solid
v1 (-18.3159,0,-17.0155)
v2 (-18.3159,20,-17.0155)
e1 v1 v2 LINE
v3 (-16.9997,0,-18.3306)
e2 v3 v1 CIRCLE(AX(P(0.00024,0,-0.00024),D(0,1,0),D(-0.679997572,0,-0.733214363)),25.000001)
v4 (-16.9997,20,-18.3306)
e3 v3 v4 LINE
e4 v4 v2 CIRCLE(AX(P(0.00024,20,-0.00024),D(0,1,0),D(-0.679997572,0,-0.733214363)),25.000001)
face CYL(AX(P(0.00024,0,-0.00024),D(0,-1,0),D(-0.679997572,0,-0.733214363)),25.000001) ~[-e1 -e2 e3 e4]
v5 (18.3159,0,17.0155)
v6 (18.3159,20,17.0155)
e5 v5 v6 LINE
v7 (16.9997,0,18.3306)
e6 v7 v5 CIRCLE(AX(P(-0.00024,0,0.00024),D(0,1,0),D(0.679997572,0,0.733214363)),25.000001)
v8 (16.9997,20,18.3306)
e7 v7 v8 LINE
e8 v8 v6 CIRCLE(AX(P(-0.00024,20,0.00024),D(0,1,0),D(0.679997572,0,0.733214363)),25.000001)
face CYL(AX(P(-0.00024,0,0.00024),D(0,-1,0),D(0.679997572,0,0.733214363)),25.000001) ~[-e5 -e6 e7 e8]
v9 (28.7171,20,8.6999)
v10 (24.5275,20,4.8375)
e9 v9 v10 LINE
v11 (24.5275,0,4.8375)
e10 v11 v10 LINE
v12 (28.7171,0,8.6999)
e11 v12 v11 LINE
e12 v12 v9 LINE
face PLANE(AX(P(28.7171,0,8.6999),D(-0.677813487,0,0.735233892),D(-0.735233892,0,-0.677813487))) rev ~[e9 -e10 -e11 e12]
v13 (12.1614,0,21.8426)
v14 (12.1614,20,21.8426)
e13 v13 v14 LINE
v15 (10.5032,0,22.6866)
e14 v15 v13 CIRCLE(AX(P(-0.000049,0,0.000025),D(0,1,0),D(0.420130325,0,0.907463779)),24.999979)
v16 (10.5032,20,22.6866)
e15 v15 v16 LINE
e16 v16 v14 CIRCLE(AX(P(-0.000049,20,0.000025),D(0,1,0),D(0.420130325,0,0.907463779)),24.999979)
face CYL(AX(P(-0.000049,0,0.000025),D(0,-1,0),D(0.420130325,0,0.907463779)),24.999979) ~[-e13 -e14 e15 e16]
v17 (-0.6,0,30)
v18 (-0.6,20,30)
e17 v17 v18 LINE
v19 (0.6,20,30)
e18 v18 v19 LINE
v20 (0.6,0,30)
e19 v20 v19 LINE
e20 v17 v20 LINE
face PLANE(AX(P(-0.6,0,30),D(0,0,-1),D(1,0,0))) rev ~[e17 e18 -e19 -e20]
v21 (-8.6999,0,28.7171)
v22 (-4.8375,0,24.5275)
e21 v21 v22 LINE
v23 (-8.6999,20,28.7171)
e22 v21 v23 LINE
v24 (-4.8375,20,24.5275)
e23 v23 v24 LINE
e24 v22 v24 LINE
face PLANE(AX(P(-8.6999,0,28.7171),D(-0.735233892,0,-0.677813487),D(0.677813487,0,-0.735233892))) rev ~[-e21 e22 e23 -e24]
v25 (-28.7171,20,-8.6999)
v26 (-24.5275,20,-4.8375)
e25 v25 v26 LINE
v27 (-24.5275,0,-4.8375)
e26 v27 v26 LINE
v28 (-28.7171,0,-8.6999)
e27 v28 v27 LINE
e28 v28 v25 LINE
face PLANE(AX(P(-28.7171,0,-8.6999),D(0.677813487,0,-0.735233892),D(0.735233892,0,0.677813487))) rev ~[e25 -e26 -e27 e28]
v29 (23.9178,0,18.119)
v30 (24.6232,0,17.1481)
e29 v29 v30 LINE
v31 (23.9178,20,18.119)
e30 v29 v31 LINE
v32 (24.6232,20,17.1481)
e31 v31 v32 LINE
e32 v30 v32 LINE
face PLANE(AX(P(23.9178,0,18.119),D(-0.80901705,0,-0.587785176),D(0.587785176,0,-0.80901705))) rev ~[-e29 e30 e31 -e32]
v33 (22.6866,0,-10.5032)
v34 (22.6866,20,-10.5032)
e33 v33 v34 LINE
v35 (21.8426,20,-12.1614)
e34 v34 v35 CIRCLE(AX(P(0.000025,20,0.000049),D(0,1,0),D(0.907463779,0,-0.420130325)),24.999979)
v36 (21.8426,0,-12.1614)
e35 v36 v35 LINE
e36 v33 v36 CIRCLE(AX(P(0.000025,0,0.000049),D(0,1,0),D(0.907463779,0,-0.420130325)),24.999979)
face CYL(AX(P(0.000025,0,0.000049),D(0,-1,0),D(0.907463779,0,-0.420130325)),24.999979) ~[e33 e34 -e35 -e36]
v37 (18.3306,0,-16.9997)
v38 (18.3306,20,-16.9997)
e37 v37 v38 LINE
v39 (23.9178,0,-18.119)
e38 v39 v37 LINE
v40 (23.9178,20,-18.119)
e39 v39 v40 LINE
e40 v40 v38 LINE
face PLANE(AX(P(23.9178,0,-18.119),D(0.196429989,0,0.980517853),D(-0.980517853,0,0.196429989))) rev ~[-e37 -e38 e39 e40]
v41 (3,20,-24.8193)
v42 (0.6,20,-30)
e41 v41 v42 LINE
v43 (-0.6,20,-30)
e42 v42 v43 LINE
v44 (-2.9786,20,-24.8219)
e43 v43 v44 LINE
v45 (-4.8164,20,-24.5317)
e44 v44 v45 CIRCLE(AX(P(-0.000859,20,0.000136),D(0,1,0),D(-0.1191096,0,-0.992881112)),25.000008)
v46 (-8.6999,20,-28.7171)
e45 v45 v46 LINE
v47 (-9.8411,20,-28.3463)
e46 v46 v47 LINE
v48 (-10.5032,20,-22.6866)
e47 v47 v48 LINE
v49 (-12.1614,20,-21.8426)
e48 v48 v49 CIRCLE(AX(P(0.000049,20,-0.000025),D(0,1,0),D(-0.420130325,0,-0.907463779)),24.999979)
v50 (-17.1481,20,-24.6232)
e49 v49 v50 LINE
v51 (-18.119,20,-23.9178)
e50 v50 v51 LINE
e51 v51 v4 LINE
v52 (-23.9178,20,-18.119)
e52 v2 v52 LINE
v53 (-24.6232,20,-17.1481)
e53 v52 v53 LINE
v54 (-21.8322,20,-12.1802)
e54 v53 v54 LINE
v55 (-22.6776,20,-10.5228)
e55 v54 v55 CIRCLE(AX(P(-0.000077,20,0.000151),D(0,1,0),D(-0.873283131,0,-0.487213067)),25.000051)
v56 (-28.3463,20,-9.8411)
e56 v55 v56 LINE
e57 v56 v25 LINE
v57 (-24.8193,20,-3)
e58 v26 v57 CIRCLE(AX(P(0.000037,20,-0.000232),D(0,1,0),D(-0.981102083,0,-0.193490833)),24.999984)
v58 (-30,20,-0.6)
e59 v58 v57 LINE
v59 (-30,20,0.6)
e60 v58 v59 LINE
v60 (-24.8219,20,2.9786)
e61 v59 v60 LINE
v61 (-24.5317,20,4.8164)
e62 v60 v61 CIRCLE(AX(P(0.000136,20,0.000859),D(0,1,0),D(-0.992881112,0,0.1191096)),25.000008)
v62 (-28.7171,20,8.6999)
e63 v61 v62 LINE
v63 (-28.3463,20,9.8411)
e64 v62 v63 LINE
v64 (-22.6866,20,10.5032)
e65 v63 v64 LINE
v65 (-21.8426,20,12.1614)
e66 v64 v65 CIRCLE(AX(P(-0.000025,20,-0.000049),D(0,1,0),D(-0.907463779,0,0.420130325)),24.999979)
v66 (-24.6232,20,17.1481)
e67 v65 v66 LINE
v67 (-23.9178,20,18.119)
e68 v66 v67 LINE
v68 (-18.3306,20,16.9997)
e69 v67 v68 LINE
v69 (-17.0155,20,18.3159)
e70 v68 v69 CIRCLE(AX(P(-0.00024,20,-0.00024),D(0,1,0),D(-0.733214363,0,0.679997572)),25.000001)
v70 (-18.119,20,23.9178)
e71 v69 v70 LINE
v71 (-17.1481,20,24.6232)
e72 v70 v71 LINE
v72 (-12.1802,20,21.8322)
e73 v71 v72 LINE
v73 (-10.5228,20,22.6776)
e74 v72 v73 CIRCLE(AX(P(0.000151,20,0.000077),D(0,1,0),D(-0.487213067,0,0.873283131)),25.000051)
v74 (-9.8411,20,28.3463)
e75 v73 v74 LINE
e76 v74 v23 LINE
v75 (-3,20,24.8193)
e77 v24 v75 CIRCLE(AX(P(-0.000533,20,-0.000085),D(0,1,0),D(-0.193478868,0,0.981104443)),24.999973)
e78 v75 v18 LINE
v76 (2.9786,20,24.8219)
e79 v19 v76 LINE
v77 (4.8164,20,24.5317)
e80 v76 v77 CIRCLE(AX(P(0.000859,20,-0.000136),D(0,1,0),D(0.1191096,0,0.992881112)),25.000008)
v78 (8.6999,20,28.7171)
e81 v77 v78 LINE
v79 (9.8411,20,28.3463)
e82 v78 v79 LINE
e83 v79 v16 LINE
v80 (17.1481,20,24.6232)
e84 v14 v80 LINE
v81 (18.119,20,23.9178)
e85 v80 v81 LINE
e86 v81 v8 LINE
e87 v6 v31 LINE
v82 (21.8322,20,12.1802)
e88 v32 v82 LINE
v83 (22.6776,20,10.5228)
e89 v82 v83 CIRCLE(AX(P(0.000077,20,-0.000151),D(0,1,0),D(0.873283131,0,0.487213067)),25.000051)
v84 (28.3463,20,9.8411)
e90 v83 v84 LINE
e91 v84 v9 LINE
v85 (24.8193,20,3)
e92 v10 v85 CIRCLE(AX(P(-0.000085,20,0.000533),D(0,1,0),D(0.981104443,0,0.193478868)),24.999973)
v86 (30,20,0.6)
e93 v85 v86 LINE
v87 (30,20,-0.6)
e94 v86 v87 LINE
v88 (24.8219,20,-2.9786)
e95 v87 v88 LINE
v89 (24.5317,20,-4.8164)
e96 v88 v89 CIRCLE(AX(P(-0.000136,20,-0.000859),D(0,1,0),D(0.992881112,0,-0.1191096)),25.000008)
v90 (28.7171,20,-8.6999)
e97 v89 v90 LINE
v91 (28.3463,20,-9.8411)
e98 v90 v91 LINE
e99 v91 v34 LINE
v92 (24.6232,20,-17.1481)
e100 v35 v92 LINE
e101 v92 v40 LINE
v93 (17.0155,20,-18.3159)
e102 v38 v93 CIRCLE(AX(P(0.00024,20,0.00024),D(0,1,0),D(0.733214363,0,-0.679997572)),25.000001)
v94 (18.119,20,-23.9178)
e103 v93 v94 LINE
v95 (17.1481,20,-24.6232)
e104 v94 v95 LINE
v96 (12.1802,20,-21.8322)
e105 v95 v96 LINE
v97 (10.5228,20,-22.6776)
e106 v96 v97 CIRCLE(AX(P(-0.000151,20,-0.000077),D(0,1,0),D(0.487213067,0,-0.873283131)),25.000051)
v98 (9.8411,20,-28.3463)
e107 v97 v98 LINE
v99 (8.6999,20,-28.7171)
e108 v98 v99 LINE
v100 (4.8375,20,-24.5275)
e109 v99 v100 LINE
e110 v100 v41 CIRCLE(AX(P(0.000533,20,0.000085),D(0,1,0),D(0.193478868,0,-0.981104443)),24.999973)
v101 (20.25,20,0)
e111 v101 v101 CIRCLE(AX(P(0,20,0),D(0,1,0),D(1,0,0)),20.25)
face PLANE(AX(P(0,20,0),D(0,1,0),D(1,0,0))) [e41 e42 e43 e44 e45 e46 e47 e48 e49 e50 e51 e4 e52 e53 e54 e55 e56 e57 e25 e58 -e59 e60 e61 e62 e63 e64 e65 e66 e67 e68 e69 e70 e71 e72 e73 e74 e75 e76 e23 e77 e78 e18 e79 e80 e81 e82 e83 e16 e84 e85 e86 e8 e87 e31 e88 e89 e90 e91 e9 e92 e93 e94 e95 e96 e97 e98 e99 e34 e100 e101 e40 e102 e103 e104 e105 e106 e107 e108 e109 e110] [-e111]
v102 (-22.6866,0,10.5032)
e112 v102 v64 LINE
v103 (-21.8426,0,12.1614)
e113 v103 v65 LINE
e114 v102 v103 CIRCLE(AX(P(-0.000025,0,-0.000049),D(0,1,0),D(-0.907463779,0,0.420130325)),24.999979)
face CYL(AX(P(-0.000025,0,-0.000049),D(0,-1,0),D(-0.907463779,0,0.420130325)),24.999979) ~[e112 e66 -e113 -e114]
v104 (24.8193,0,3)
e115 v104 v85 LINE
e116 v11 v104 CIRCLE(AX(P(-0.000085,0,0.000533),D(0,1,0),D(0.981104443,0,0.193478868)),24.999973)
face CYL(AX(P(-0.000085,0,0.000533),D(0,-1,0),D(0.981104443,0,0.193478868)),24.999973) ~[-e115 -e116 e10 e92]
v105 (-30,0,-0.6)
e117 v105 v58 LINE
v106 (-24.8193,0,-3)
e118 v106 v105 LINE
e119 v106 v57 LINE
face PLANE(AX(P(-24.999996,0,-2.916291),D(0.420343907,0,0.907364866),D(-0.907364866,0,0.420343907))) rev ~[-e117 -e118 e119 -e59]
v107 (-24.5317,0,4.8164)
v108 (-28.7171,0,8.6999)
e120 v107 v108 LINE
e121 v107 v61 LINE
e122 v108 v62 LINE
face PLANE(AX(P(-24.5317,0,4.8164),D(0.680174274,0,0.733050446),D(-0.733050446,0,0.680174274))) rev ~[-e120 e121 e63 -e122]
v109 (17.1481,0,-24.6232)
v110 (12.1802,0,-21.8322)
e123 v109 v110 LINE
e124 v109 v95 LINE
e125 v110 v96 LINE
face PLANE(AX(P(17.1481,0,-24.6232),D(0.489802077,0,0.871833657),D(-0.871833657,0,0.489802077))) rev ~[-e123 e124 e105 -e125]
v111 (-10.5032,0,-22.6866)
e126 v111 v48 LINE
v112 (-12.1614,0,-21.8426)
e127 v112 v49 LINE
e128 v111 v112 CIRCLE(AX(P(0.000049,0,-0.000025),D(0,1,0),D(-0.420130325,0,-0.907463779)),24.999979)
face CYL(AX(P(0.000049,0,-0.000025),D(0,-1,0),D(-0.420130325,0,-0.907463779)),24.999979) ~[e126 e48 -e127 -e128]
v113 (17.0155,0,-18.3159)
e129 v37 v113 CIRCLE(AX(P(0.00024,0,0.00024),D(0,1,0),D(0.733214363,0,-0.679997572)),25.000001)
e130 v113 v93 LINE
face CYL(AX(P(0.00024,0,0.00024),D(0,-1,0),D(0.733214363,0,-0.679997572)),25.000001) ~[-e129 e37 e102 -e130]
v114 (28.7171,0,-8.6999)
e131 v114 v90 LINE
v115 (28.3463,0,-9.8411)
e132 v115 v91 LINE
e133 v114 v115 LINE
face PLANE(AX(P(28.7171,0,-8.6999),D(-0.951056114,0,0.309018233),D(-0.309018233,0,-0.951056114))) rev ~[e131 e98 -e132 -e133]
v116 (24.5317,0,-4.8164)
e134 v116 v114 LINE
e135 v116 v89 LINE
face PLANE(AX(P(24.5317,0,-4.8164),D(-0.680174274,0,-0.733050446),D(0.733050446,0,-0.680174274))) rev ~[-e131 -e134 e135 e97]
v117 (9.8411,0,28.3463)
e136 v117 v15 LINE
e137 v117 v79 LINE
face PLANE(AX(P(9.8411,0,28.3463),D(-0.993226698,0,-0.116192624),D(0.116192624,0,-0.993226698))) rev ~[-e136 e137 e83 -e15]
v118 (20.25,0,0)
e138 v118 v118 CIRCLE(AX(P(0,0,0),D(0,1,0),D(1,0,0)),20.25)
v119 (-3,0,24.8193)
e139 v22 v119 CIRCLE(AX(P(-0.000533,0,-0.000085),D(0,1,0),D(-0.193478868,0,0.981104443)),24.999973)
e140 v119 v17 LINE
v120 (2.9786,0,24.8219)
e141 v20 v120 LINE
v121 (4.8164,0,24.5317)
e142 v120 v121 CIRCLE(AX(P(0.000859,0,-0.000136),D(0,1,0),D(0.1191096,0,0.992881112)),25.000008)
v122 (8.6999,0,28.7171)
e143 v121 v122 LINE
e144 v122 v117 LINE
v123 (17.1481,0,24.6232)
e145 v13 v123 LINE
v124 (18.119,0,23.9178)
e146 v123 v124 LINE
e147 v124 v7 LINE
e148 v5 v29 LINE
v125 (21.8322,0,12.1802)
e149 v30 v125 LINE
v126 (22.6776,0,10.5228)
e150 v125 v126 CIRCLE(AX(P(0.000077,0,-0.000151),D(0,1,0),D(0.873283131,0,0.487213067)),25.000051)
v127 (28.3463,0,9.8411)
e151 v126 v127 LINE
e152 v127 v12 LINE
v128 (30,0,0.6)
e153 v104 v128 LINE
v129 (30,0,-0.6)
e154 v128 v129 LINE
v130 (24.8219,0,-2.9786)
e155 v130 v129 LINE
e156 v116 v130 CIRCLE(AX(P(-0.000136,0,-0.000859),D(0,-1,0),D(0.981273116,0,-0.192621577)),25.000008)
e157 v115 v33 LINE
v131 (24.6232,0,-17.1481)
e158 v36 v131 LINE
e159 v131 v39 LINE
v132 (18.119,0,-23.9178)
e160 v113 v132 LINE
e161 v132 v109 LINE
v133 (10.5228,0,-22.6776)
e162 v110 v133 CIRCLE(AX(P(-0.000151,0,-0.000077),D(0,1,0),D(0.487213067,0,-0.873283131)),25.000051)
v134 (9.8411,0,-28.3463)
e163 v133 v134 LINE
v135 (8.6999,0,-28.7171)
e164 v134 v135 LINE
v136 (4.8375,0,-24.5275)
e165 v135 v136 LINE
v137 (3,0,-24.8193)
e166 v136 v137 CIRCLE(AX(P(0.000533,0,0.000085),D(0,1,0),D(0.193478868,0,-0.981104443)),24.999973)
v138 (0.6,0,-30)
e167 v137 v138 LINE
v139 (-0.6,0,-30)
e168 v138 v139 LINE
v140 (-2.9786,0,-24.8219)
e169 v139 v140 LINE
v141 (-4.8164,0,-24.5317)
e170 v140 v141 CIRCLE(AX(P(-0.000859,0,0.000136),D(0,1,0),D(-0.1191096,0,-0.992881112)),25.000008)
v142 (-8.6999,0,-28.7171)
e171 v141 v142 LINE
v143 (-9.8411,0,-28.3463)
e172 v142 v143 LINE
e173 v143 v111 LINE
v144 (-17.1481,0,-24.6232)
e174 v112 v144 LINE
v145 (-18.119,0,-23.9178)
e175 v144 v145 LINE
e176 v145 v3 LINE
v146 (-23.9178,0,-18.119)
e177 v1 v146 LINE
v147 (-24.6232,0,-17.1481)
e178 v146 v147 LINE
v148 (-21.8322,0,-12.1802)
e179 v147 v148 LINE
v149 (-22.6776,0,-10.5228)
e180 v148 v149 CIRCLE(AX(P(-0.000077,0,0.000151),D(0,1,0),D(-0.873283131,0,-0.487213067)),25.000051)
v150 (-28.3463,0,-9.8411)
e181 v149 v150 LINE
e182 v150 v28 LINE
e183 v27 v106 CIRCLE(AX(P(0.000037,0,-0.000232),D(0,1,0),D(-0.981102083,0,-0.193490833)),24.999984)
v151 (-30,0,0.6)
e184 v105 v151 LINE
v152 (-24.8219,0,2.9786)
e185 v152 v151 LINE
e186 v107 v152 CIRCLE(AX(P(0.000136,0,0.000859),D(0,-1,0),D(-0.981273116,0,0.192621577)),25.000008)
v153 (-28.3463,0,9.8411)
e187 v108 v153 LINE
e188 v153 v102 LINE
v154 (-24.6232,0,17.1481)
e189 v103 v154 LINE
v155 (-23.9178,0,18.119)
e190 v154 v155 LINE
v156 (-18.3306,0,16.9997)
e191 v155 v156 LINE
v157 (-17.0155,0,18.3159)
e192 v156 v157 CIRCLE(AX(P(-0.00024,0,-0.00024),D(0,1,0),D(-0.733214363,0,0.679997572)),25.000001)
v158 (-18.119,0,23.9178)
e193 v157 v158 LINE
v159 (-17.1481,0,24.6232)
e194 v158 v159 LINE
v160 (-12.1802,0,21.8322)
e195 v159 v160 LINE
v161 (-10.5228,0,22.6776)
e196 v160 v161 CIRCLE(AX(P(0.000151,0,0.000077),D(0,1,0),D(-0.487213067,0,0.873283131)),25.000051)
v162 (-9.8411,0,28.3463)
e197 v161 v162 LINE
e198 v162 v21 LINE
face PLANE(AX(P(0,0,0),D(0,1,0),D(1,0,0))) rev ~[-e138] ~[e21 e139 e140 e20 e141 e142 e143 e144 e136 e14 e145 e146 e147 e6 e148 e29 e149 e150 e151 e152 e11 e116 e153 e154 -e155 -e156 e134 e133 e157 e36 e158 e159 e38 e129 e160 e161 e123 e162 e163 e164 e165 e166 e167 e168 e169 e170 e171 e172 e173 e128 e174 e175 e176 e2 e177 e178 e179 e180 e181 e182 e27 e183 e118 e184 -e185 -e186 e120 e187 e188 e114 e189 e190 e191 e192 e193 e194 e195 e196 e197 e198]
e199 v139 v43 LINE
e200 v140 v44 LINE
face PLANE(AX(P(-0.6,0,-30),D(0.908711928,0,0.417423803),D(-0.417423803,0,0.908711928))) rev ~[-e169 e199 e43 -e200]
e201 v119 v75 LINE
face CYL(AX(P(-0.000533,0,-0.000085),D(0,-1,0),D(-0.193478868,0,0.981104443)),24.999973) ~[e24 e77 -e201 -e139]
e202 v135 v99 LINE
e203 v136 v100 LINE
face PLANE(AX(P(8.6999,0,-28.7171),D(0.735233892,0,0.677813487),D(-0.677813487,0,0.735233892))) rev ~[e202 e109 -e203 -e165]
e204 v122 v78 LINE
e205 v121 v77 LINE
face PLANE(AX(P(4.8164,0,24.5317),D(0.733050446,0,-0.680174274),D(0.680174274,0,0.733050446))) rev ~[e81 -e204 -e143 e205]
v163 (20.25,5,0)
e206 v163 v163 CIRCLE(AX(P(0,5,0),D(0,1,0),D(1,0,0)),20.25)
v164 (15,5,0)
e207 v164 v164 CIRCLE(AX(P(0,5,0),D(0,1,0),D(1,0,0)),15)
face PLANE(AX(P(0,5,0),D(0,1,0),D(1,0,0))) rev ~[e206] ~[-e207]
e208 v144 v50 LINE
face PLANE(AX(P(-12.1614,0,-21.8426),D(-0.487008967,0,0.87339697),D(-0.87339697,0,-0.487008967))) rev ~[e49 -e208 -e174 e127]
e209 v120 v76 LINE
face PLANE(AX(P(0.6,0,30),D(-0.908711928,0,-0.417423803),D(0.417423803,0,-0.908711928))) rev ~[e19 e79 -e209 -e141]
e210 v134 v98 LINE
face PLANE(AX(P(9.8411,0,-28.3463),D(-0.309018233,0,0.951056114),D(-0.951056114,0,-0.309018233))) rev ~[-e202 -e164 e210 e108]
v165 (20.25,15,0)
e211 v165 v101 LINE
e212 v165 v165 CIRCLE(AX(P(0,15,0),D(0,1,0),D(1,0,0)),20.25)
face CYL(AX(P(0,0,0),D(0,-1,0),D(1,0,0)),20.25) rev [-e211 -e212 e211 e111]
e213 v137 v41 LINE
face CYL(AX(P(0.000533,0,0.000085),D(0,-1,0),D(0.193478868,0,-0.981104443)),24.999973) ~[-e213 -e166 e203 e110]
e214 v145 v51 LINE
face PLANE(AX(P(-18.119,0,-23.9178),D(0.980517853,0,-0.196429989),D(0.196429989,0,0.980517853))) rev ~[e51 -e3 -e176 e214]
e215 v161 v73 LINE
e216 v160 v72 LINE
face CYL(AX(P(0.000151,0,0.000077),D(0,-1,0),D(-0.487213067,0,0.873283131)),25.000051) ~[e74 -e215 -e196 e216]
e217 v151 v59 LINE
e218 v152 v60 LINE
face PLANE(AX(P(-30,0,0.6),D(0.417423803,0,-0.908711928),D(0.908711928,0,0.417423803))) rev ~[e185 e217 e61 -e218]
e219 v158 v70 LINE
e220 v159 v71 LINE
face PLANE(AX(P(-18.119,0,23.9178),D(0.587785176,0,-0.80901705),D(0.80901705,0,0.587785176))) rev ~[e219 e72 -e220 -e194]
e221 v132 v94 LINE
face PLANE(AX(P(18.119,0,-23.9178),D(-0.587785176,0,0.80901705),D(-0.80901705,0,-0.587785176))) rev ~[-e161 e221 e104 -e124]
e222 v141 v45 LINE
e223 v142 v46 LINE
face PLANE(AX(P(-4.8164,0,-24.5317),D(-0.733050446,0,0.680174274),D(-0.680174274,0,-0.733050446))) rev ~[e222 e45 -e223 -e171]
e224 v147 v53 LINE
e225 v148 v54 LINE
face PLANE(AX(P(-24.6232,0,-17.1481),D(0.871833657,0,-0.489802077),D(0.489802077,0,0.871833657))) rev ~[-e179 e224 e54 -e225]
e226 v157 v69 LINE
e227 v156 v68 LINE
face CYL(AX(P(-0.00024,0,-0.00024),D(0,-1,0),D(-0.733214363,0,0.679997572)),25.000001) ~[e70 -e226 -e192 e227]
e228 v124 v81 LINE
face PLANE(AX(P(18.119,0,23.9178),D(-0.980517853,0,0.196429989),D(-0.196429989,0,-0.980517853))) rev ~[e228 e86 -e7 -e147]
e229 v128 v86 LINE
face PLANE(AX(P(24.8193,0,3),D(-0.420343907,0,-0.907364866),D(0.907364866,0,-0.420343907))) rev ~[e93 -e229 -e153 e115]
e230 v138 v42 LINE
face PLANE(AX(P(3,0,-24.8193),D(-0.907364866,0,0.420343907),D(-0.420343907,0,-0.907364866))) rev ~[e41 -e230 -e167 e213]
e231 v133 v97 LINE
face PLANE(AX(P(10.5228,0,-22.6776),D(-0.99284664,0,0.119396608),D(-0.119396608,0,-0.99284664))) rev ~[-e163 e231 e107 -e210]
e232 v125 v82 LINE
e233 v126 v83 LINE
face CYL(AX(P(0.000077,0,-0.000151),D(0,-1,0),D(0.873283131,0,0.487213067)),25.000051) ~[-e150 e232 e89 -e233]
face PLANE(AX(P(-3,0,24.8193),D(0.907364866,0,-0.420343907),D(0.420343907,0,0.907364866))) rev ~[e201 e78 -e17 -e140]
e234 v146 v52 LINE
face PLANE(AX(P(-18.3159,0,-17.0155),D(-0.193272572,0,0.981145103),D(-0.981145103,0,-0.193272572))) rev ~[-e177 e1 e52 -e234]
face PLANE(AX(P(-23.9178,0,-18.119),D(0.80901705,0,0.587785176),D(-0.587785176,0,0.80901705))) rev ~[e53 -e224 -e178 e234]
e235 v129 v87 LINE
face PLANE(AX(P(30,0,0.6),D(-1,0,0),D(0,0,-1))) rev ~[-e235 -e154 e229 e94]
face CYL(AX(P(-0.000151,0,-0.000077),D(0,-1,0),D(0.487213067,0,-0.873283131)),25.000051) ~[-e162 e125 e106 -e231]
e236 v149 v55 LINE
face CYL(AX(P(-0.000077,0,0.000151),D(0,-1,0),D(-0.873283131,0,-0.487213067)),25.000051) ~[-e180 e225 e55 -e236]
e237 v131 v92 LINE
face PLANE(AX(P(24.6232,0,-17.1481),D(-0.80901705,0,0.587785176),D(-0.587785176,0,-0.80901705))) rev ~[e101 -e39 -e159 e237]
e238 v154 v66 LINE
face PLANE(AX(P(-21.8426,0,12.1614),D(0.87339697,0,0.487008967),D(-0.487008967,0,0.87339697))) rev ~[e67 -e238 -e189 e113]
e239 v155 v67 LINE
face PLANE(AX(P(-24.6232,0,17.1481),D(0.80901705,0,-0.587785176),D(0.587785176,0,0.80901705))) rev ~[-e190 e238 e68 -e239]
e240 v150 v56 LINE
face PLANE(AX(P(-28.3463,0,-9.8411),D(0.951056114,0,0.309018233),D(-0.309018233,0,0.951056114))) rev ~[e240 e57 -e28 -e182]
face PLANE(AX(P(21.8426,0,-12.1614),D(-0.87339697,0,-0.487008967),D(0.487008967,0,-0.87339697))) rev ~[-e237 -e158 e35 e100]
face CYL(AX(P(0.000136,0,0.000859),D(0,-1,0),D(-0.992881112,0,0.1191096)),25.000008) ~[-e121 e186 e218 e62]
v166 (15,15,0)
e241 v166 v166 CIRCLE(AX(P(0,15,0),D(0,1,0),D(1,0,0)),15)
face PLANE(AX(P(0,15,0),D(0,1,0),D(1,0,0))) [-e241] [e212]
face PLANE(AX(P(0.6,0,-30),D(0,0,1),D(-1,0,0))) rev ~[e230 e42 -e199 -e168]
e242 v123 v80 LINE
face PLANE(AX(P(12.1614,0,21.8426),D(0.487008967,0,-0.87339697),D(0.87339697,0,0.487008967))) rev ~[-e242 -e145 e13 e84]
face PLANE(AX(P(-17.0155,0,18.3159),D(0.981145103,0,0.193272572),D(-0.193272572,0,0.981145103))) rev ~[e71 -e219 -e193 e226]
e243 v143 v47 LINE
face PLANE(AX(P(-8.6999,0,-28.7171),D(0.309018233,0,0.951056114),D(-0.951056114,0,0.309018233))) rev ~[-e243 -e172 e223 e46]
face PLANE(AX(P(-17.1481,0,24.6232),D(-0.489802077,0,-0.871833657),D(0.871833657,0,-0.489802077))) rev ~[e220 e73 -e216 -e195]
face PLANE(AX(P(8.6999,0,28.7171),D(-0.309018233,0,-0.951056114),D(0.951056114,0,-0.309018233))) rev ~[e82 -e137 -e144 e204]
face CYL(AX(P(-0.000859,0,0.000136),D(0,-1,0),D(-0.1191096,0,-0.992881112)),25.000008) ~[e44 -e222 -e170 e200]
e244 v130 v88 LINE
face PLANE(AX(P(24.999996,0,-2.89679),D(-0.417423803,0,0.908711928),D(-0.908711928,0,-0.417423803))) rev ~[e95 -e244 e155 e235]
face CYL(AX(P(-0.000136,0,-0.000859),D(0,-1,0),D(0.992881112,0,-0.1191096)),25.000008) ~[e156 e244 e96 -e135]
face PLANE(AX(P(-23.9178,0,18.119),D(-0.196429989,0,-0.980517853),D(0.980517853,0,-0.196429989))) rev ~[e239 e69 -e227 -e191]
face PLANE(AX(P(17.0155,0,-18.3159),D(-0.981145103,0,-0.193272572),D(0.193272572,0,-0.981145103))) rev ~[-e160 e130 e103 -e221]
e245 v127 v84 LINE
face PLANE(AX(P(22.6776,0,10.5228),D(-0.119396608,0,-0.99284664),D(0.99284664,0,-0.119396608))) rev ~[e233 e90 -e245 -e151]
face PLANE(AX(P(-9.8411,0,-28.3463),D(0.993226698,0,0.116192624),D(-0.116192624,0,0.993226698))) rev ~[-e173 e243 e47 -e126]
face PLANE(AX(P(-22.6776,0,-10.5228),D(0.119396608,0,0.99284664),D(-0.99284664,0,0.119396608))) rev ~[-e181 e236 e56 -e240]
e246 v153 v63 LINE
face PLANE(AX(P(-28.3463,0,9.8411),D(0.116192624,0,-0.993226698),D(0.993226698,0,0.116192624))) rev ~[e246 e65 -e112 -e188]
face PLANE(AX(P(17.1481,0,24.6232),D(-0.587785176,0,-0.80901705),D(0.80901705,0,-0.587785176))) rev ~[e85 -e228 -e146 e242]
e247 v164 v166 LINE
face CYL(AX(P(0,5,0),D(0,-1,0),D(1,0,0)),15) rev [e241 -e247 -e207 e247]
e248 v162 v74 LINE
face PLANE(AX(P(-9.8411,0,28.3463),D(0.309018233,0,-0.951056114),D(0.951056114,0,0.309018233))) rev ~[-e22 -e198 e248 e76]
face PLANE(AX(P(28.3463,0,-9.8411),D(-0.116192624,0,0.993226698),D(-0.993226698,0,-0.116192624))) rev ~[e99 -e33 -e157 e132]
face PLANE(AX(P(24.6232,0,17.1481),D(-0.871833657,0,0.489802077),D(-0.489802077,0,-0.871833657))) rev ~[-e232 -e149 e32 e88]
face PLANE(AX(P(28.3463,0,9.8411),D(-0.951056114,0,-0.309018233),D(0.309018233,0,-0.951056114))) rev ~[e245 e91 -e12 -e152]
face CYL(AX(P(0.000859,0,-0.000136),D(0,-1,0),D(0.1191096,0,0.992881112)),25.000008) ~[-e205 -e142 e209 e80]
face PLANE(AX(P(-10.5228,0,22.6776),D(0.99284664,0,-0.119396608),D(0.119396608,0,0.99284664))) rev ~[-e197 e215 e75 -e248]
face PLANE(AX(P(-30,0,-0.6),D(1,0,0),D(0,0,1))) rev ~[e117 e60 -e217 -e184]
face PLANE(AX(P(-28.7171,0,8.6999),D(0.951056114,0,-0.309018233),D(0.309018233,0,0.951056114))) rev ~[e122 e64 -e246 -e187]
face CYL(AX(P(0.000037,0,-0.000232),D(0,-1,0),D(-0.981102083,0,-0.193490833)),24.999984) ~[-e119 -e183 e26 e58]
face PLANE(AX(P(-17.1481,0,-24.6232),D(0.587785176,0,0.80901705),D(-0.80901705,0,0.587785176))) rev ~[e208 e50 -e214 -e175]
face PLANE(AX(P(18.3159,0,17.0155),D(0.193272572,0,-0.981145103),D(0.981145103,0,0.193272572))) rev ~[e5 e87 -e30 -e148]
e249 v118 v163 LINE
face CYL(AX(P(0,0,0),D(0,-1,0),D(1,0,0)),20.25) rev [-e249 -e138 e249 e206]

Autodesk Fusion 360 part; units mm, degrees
sketch "Sketch1" plane through (0, 0, 0) normal (0, 1, 0) x (1, 0, 0)
  circle A0 centre (0, 0) radius 20.25
  circle A1 centre (0, 0) radius 15
  line L0 (-30, 0.6) -> (-30, -0.6)
  line L1 (30, -0.6) -> (30, 0.6)
  line L2 (30, 0.6) -> (24.8219, 2.9786)
  line L3 (24.995, -0.4999) -> (25, -0.5) construction
  line L4 (29.994, -0.5999) -> (30, -0.6) construction
  line L5 (30, 0.6) -> (29.994, 0.5999) construction
  line L6 (25, 0.5) -> (24.995, 0.4999) construction
  line L7 (25, 3) -> (25, 2.8968)
  line L8 (24.8193, -3) -> (30, -0.6)
  line L9 (25, -3) -> (24.8193, -3)
  line L10 (-25, -3) -> (-24.8219, -2.9786) construction
  line L11 (30, 0.6) -> (29.994, 0.6)
  line L12 (24.8193, 3) -> (25, 3)
  line L13 (29.994, -0.6) -> (30, -0.6)
  line L14 (14.8932, 1.7872) -> (20.1058, 2.4127) construction
  line L15 (24.8219, 2.9786) -> (25, 3) construction
  line L16 (28.7171, 8.6999) -> (28.3463, 9.8411)
  line L17 (24.5317, 4.8164) -> (28.7171, 8.6999)
  line L18 (28.3463, 9.8411) -> (22.6866, 10.5032)
  line L19 (24.6232, 17.1481) -> (23.9178, 18.119)
  line L20 (21.8426, 12.1614) -> (24.6232, 17.1481)
  line L21 (23.9178, 18.119) -> (18.3306, 16.9997)
  line L22 (18.119, 23.9178) -> (17.1481, 24.6232)
  line L23 (17.0155, 18.3159) -> (18.119, 23.9178)
  line L24 (17.1481, 24.6232) -> (12.1802, 21.8322)
  line L25 (9.8411, 28.3463) -> (8.6999, 28.7171)
  line L26 (10.5228, 22.6776) -> (9.8411, 28.3463)
  line L27 (8.6999, 28.7171) -> (4.8375, 24.5275)
  line L28 (0.6, 30) -> (-0.6, 30)
  line L29 (3, 24.8193) -> (0.6, 30)
  line L30 (-0.6, 30) -> (-2.9786, 24.8219)
  line L31 (-8.6999, 28.7171) -> (-9.8411, 28.3463)
  line L32 (-4.8164, 24.5317) -> (-8.6999, 28.7171)
  line L33 (-9.8411, 28.3463) -> (-10.5032, 22.6866)
  line L34 (-17.1481, 24.6232) -> (-18.119, 23.9178)
  line L35 (-12.1614, 21.8426) -> (-17.1481, 24.6232)
  line L36 (-18.119, 23.9178) -> (-16.9997, 18.3306)
  line L37 (-23.9178, 18.119) -> (-24.6232, 17.1481)
  line L38 (-18.3159, 17.0155) -> (-23.9178, 18.119)
  line L39 (-24.6232, 17.1481) -> (-21.8322, 12.1802)
  line L40 (-28.3463, 9.8411) -> (-28.7171, 8.6999)
  line L41 (-22.6776, 10.5228) -> (-28.3463, 9.8411)
  line L42 (-28.7171, 8.6999) -> (-24.5275, 4.8375)
  line L43 (-30, 0.6) -> (-30, -0.6)
  line L44 (-24.8193, 3) -> (-30, 0.6)
  line L45 (-30, -0.6) -> (-24.8219, -2.9786)
  line L46 (-28.7171, -8.6999) -> (-28.3463, -9.8411)
  line L47 (-24.5317, -4.8164) -> (-28.7171, -8.6999)
  line L48 (-28.3463, -9.8411) -> (-22.6866, -10.5032)
  line L49 (-24.6232, -17.1481) -> (-23.9178, -18.119)
  line L50 (-21.8426, -12.1614) -> (-24.6232, -17.1481)
  line L51 (-23.9178, -18.119) -> (-18.3306, -16.9997)
  line L52 (-18.119, -23.9178) -> (-17.1481, -24.6232)
  line L53 (-17.0155, -18.3159) -> (-18.119, -23.9178)
  line L54 (-17.1481, -24.6232) -> (-12.1802, -21.8322)
  line L55 (-9.8411, -28.3463) -> (-8.6999, -28.7171)
  line L56 (-10.5228, -22.6776) -> (-9.8411, -28.3463)
  line L57 (-8.6999, -28.7171) -> (-4.8375, -24.5275)
  line L58 (-0.6, -30) -> (0.6, -30)
  line L59 (-3, -24.8193) -> (-0.6, -30)
  line L60 (0.6, -30) -> (2.9786, -24.8219)
  line L61 (8.6999, -28.7171) -> (9.8411, -28.3463)
  line L62 (4.8164, -24.5317) -> (8.6999, -28.7171)
  line L63 (9.8411, -28.3463) -> (10.5032, -22.6866)
  line L64 (17.1481, -24.6232) -> (18.119, -23.9178)
  line L65 (12.1614, -21.8426) -> (17.1481, -24.6232)
  line L66 (18.119, -23.9178) -> (16.9997, -18.3306)
  line L67 (23.9178, -18.119) -> (24.6232, -17.1481)
  line L68 (18.3159, -17.0155) -> (23.9178, -18.119)
  line L69 (24.6232, -17.1481) -> (21.8322, -12.1802)
  line L70 (28.3463, -9.8411) -> (28.7171, -8.6999)
  line L71 (22.6776, -10.5228) -> (28.3463, -9.8411)
  line L72 (28.7171, -8.6999) -> (24.5275, -4.8375)
  arc A2 (12.1802, 21.8322) -> (10.5228, 22.6776) centre (0, 0) ccw
  arc A3 (4.8375, 24.5275) -> (3, 24.8193) centre (0, 0) ccw
  arc A4 (-2.9786, 24.8219) -> (-4.8164, 24.5317) centre (0, 0) ccw
  arc A5 (-10.5032, 22.6866) -> (-12.1614, 21.8426) centre (0, 0) ccw
  arc A6 (-16.9997, 18.3306) -> (-18.3159, 17.0155) centre (0, 0) ccw
  arc A7 (-21.8322, 12.1802) -> (-22.6776, 10.5228) centre (0, 0) ccw
  line L73 (-24.8193, -3) -> (-25, -3)
  line L74 (-24.8219, 2.9786) -> (-25, 3) construction
  line L75 (-25, 3) -> (-24.8193, 3)
  line L76 (-24.9928, 0.6) -> (-25, 0.6)
  line L77 (-25, 0.5) -> (-24.995, 0.4999) construction
  line L78 (-25, -0.6) -> (-24.9928, -0.6)
  line L79 (-24.995, -0.4999) -> (-25, -0.5) construction
  arc A8 (-24.5275, 4.8375) -> (-24.8219, 2.9786) centre (0, 0) ccw
  line L80 (-25, 2.9163) -> (-25, 3)
  line L81 (-25, -3) -> (-25, -2.8968)
  arc A9 (-24.8219, -2.9786) -> (-24.5317, -4.8164) centre (0, 0) ccw
  arc A10 (-22.6866, -10.5032) -> (-21.8426, -12.1614) centre (0, 0) ccw
  arc A11 (-18.3306, -16.9997) -> (-17.0155, -18.3159) centre (0, 0) ccw
  arc A12 (-12.1802, -21.8322) -> (-10.5228, -22.6776) centre (0, 0) ccw
  arc A13 (-4.8375, -24.5275) -> (-3, -24.8193) centre (0, 0) ccw
  arc A14 (2.9786, -24.8219) -> (4.8164, -24.5317) centre (0, 0) ccw
  arc A15 (10.5032, -22.6866) -> (12.1614, -21.8426) centre (0, 0) ccw
  arc A16 (24.5275, -4.8375) -> (24.8193, -3) centre (0, 0) ccw
  arc A17 (24.8219, 2.9786) -> (24.5317, 4.8164) centre (0, 0) ccw
  arc A18 (22.6866, 10.5032) -> (21.8426, 12.1614) centre (0, 0) ccw
  arc A19 (18.3306, 16.9997) -> (17.0155, 18.3159) centre (0, 0) ccw
  arc A20 (16.9997, -18.3306) -> (18.3159, -17.0155) centre (0, 0) ccw
  arc A21 (21.8322, -12.1802) -> (22.6776, -10.5228) centre (0, 0) ccw
  dimension "d2" = 40.5
  dimension "d3" = 30
  dimension "d4" = 50
  dimension "d5" = 50
  dimension "d6" = 6
  dimension "d7" = 60
  dimension "d8" = 1.2
  dimension "d10" = 360
extrude "Extrude1" add sketch "Sketch1" along normal blind 20 contours L0 L1 L2 L8 L16 L17 L18 L19 L20 L21 L22 L23 L24 L25 L26 L27 L28 L29 L30 L31 L32 L33 L34 L35 L36 L37 L38 L39 L40 L41 L42 L43 L44 L45 L46 L47 L48 L49 L50 L51 L52 L53 L54 L55 L56 L57 L58 L59 L60 L61 L62 L63 L64 L65 L66 L67 L68 L69 L70 L71 L72 A2 A3 A4 A5 A6 A7 A8 A9 A10 A11 A12 A13 A14 A15 A16 A17 A18 A19 A20 A21
extrude "Extrude2" add sketch "Sketch1" along normal blind 10 from surface at 5 contours A0
